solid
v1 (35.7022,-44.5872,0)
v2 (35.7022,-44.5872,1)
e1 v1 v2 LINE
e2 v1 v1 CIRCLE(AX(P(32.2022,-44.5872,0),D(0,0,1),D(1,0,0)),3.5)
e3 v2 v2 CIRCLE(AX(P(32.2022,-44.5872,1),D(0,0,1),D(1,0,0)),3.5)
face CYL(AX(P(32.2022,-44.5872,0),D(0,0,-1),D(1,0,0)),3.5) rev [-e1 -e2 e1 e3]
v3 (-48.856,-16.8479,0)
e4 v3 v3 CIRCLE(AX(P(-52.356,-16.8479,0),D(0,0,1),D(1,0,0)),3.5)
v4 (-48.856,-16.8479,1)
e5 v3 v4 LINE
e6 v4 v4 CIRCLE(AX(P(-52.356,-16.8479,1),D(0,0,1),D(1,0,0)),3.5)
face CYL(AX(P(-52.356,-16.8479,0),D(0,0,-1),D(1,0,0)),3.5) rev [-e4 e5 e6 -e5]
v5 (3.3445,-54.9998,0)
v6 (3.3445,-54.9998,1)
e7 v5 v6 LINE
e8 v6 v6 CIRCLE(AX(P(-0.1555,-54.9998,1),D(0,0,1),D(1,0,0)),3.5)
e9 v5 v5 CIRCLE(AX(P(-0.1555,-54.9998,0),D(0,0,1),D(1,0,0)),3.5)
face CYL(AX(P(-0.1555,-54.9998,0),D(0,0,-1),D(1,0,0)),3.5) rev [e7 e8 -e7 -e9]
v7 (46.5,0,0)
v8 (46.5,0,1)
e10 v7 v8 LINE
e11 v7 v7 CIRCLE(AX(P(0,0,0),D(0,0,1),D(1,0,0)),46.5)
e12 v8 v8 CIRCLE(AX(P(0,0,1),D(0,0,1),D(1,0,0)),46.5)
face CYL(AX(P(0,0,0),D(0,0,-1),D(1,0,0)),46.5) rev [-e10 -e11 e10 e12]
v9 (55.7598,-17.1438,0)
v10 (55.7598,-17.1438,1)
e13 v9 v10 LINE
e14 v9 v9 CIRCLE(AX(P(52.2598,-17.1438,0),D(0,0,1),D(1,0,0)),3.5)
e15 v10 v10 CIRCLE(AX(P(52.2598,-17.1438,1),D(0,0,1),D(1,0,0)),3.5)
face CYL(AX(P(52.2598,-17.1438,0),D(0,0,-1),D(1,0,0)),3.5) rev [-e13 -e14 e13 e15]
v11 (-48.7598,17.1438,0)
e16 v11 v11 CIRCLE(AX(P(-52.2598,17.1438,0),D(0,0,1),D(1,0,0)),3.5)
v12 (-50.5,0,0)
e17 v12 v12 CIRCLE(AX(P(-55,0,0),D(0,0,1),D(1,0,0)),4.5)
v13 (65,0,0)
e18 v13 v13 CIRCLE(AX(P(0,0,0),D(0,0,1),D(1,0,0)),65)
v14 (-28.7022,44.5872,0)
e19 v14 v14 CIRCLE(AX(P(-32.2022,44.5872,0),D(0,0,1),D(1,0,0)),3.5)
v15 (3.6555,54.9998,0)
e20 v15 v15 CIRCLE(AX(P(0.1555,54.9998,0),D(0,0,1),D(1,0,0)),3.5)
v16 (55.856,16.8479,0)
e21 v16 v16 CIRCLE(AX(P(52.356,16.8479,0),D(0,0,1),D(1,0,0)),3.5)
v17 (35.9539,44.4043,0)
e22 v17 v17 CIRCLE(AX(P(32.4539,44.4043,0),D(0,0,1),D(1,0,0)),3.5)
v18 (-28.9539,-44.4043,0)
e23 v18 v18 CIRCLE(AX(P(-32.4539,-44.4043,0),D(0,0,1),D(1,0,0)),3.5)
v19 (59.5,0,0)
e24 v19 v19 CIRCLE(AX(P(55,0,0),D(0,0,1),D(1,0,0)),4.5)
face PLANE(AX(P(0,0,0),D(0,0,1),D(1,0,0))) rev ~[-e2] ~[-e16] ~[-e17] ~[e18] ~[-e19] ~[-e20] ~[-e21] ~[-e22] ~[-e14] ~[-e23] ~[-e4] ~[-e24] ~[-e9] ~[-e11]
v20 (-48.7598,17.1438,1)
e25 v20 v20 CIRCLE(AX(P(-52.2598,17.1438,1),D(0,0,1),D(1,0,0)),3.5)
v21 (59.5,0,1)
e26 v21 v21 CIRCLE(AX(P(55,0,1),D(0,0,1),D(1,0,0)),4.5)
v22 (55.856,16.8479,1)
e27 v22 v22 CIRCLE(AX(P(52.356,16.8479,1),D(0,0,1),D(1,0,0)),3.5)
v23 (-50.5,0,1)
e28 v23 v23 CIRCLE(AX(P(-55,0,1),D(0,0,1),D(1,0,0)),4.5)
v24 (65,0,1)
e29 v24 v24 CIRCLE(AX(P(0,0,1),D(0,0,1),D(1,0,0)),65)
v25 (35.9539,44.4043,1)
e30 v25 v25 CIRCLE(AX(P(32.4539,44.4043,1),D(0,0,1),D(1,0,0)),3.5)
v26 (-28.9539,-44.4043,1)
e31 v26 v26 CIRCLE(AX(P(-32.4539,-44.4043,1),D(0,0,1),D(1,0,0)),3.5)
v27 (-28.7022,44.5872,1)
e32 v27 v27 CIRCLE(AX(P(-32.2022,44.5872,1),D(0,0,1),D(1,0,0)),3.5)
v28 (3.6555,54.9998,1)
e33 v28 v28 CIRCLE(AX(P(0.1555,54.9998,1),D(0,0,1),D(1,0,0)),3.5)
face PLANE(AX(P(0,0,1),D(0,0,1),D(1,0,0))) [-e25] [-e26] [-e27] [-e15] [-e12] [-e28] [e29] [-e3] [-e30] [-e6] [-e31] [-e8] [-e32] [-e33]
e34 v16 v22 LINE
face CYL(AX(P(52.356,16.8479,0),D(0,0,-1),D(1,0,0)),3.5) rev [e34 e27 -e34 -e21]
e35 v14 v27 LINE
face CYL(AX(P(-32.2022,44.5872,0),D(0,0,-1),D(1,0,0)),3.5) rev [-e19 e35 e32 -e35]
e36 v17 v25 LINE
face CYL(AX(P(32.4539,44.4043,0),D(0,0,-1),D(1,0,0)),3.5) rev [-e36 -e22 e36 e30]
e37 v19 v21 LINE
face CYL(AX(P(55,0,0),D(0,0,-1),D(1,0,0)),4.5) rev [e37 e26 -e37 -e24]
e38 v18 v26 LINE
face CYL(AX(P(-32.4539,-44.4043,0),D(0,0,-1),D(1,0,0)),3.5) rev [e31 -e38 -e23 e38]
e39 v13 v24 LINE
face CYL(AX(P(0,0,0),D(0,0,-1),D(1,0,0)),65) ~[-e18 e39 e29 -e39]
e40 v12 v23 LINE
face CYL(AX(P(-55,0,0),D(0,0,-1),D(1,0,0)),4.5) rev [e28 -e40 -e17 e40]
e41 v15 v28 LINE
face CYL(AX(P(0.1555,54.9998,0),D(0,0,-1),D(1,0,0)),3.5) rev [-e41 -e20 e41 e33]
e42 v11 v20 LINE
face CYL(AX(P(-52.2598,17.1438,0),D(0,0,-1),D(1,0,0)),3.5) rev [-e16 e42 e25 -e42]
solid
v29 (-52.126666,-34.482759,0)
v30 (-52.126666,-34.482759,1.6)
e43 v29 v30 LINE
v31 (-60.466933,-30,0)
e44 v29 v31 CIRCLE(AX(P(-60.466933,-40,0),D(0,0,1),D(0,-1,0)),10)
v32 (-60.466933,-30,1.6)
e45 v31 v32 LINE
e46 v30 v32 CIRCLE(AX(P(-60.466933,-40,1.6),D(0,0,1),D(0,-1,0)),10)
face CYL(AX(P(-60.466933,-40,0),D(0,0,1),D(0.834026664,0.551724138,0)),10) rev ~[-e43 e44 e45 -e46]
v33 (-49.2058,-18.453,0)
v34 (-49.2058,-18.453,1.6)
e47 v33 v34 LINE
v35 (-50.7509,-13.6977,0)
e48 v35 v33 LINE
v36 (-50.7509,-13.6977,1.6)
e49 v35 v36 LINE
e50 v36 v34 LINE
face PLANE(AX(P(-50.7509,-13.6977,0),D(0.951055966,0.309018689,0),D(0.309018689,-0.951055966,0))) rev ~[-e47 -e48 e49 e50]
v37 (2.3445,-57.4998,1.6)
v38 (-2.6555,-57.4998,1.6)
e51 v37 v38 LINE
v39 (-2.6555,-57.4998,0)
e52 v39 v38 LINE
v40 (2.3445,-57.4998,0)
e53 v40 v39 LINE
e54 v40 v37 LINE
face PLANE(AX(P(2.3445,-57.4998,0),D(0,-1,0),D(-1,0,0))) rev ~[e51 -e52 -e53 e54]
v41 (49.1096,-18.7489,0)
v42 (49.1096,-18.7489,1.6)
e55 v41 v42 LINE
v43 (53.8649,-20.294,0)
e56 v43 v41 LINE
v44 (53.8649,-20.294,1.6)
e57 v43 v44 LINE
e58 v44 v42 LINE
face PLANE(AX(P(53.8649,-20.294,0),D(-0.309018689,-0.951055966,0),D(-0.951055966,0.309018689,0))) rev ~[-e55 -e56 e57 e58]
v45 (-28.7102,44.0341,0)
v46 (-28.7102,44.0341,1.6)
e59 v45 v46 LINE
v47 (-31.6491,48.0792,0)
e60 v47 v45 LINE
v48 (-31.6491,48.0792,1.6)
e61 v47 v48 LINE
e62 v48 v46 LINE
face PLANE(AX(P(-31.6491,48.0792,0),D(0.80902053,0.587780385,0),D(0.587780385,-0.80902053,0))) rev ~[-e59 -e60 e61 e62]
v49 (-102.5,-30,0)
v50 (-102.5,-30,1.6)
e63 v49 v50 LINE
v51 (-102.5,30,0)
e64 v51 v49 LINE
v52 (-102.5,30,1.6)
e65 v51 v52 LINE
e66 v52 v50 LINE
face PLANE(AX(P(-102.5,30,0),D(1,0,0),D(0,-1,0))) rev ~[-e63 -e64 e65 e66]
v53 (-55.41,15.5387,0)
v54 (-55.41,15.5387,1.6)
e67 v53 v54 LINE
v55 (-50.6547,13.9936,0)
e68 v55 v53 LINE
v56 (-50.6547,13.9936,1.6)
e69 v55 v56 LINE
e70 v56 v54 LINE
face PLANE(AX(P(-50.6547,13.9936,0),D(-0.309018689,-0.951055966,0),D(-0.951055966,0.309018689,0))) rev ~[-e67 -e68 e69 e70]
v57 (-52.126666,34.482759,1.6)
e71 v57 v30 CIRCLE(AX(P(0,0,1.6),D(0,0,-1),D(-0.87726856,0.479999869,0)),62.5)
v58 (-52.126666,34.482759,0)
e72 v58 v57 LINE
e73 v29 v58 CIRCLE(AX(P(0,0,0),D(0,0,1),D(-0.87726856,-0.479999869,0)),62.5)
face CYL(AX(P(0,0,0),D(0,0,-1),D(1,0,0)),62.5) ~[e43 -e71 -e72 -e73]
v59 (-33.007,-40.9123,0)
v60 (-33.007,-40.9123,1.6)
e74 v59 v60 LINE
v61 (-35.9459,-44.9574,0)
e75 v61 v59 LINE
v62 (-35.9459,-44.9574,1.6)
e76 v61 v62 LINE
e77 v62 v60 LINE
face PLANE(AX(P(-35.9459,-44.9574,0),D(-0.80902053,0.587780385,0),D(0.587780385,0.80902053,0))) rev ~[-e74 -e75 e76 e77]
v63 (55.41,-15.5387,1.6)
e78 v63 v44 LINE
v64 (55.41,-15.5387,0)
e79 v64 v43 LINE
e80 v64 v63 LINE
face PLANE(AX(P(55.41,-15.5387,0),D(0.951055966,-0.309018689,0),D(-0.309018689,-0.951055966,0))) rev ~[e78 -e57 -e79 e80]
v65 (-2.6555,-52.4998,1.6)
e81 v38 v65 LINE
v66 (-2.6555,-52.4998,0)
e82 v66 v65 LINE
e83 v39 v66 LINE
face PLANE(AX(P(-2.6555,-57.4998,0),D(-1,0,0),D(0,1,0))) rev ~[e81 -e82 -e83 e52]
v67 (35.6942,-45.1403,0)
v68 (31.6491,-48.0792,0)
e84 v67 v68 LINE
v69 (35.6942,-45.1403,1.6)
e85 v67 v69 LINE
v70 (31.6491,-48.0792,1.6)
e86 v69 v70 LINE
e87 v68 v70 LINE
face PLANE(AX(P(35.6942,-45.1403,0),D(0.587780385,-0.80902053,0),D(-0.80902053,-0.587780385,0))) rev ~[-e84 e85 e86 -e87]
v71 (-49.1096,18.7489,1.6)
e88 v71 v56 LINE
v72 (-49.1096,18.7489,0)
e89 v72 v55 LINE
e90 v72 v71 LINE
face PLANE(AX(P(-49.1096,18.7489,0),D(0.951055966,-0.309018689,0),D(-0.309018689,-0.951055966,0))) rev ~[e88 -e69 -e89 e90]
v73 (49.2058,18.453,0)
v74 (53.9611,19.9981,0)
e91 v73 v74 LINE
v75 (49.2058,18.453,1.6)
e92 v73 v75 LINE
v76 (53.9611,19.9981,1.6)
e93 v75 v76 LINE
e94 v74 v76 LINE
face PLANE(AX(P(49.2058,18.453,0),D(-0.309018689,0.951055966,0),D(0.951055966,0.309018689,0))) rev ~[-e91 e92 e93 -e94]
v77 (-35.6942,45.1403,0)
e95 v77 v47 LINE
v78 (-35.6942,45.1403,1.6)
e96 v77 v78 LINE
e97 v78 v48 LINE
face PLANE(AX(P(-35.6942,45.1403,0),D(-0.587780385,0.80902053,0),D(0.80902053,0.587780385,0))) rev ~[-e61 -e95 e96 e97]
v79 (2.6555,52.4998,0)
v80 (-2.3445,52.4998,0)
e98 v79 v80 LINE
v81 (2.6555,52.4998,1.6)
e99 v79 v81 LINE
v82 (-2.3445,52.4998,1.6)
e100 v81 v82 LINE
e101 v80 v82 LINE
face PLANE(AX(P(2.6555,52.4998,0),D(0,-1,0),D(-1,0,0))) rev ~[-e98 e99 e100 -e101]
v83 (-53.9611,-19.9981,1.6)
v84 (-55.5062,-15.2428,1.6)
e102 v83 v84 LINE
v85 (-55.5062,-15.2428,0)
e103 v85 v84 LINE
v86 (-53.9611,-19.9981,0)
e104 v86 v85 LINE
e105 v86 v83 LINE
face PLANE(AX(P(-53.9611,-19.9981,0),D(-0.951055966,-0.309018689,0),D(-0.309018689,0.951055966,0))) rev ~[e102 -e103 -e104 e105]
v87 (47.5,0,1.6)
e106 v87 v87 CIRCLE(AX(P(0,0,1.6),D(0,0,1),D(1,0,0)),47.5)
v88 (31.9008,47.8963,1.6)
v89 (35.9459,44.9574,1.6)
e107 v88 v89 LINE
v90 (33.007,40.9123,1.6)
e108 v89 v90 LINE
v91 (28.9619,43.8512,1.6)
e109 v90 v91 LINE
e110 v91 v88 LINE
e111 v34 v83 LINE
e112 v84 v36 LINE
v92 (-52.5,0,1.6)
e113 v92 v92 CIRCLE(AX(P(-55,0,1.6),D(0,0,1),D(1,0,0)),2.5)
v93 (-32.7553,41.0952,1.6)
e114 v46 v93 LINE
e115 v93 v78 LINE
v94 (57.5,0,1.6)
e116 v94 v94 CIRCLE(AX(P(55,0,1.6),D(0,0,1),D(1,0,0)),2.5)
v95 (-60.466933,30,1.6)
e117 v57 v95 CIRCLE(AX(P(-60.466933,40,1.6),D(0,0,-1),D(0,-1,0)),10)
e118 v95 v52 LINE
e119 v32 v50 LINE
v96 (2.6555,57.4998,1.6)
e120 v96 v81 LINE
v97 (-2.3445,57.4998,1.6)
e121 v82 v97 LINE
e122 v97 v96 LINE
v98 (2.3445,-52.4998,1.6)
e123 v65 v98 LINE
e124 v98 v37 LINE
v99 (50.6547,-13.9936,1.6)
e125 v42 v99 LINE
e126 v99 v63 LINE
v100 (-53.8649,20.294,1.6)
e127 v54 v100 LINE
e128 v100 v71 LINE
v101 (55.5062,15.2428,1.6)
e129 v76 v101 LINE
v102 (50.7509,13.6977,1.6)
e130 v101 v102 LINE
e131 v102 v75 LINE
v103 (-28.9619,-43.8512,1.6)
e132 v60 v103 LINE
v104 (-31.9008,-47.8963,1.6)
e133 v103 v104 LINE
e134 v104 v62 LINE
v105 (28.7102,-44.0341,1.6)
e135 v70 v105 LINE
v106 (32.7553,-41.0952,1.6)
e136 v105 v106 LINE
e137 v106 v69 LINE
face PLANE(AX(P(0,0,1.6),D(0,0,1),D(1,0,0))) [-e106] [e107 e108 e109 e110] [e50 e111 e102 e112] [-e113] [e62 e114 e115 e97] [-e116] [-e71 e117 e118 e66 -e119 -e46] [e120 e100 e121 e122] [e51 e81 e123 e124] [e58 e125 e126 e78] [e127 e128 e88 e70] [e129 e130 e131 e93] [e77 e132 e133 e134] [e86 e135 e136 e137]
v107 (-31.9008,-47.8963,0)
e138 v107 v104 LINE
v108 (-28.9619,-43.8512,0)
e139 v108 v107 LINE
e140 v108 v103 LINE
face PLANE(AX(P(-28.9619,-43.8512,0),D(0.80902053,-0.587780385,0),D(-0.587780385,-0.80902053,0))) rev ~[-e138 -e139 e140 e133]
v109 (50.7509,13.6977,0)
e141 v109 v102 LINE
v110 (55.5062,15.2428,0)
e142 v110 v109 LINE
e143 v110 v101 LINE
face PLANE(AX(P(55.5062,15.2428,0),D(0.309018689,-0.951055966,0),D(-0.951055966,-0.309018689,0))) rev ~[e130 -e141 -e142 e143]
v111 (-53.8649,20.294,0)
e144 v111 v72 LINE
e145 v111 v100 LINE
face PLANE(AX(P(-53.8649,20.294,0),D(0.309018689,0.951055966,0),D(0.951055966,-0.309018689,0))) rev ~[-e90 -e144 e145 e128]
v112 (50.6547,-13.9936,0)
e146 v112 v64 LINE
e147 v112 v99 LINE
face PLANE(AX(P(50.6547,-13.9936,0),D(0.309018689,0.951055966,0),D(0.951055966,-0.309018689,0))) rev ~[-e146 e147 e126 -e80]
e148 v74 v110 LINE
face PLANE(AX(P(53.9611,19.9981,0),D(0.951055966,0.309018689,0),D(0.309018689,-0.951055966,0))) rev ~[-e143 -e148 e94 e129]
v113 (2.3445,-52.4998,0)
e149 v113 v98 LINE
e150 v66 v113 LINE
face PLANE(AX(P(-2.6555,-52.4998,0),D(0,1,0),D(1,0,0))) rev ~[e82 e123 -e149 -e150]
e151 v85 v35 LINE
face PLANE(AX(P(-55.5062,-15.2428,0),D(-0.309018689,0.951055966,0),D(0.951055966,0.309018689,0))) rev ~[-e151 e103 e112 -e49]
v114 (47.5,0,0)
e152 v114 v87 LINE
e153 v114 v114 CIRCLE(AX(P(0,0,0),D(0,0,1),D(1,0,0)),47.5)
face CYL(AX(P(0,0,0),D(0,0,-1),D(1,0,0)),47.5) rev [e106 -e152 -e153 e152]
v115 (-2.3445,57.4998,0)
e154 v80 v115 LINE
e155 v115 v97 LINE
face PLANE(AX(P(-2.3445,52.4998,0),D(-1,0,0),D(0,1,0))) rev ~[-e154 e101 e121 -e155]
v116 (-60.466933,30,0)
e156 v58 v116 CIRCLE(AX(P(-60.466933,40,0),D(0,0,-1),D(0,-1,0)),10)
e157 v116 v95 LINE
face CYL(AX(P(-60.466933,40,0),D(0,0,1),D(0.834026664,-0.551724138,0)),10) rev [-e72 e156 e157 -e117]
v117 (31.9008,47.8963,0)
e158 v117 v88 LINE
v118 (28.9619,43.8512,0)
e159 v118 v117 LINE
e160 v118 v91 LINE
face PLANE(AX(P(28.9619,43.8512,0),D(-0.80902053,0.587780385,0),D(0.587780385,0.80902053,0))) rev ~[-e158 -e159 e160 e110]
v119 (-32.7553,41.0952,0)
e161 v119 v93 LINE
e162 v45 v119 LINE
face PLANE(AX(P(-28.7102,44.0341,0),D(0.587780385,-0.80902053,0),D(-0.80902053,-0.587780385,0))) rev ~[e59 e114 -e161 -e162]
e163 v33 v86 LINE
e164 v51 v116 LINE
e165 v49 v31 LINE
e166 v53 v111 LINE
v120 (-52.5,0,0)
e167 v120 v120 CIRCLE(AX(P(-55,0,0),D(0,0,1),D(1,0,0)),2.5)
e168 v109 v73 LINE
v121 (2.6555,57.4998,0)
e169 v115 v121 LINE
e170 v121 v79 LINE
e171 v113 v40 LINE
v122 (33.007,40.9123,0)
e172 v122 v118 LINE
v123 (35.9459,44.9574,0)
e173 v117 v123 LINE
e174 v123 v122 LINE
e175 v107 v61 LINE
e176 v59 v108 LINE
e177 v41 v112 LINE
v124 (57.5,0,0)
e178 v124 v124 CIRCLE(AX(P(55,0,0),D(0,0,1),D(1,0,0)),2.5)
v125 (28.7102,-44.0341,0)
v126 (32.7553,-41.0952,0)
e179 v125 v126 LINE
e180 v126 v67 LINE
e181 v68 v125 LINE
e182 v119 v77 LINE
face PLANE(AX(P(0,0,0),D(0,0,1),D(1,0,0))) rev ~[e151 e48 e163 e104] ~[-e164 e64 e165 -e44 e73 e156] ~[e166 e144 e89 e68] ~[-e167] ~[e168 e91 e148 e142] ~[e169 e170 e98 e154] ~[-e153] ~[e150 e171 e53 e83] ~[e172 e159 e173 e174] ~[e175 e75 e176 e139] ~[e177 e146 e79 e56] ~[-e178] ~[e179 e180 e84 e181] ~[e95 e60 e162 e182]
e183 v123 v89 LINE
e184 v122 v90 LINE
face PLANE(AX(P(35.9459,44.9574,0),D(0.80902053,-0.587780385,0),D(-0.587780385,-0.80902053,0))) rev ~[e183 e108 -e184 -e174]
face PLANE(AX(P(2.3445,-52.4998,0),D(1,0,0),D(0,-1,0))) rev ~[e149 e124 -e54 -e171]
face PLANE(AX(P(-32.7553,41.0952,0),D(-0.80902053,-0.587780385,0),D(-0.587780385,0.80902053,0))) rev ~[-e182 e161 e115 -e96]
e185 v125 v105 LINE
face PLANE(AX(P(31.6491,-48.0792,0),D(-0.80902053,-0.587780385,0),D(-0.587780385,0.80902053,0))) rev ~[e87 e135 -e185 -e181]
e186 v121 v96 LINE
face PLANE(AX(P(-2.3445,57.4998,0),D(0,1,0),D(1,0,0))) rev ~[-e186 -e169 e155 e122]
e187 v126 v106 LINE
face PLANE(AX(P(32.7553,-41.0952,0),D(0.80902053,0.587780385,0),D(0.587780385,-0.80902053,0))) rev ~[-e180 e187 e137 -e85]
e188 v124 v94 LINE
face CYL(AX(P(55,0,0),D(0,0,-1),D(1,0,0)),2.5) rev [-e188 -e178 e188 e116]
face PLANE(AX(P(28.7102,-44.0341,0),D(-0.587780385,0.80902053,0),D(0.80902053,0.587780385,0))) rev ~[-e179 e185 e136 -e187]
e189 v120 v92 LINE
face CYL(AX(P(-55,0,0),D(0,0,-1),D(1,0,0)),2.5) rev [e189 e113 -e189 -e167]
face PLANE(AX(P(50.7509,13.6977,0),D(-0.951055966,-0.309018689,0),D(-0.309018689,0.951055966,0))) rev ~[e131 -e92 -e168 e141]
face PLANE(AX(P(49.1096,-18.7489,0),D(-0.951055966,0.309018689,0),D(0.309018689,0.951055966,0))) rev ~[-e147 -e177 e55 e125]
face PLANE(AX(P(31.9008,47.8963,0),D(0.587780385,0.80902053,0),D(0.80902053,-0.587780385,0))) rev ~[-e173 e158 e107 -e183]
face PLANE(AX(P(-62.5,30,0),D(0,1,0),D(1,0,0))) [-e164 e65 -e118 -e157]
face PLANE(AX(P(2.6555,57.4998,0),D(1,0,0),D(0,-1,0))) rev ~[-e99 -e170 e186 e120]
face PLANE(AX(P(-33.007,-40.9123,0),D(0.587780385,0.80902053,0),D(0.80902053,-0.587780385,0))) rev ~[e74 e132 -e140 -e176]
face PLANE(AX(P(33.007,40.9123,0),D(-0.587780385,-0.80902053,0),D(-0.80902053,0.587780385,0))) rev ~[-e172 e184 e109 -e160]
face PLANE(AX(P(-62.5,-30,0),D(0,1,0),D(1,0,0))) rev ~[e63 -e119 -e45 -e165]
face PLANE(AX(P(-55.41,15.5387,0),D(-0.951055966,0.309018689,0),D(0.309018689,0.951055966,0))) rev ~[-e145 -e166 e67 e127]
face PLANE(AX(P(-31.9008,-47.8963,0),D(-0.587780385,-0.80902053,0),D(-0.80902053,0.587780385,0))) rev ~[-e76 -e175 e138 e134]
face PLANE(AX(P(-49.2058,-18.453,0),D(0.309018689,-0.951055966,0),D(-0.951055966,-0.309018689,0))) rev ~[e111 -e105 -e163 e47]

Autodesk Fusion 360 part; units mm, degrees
sketch "Skizze1" plane through (0, 0, 0) normal (0, 0, 1) x (1, 0, 0)
  circle A0 centre (0, 0) radius 45 construction
  circle A1 centre (0, 0) radius 47.5
  circle A2 centre (0, 0) radius 55 construction
  line L0 (2.6555, 52.4998) -> (-2.3445, 52.4998)
  line L1 (-2.3445, 52.4998) -> (-2.3445, 57.4998)
  line L2 (-2.3445, 57.4998) -> (2.6555, 57.4998)
  line L3 (2.6555, 57.4998) -> (2.6555, 52.4998)
  line L4 (2.6555, 52.4998) -> (-2.3445, 57.4998) construction
  line L5 (-2.3445, 52.4998) -> (2.6555, 57.4998) construction
  line L6 (-31.6491, 48.0792) -> (-28.7102, 44.0341)
  line L7 (-28.7102, 44.0341) -> (-32.7553, 41.0952)
  line L8 (-32.7553, 41.0952) -> (-35.6942, 45.1403)
  line L9 (-35.6942, 45.1403) -> (-31.6491, 48.0792)
  line L10 (-53.8649, 20.294) -> (-49.1096, 18.7489)
  line L11 (-49.1096, 18.7489) -> (-50.6547, 13.9936)
  line L12 (-50.6547, 13.9936) -> (-55.41, 15.5387)
  line L13 (-55.41, 15.5387) -> (-53.8649, 20.294)
  line L14 (-55.5062, -15.2428) -> (-50.7509, -13.6977)
  line L15 (-50.7509, -13.6977) -> (-49.2058, -18.453)
  line L16 (-49.2058, -18.453) -> (-53.9611, -19.9981)
  line L17 (-53.9611, -19.9981) -> (-55.5062, -15.2428)
  line L18 (-35.9459, -44.9574) -> (-33.007, -40.9123)
  line L19 (-33.007, -40.9123) -> (-28.9619, -43.8512)
  line L20 (-28.9619, -43.8512) -> (-31.9008, -47.8963)
  line L21 (-31.9008, -47.8963) -> (-35.9459, -44.9574)
  line L22 (-2.6555, -57.4998) -> (-2.6555, -52.4998)
  line L23 (-2.6555, -52.4998) -> (2.3445, -52.4998)
  line L24 (2.3445, -52.4998) -> (2.3445, -57.4998)
  line L25 (2.3445, -57.4998) -> (-2.6555, -57.4998)
  line L26 (31.6491, -48.0792) -> (28.7102, -44.0341)
  line L27 (28.7102, -44.0341) -> (32.7553, -41.0952)
  line L28 (32.7553, -41.0952) -> (35.6942, -45.1403)
  line L29 (35.6942, -45.1403) -> (31.6491, -48.0792)
  line L30 (53.8649, -20.294) -> (49.1096, -18.7489)
  line L31 (49.1096, -18.7489) -> (50.6547, -13.9936)
  line L32 (50.6547, -13.9936) -> (55.41, -15.5387)
  line L33 (55.41, -15.5387) -> (53.8649, -20.294)
  line L34 (55.5062, 15.2428) -> (50.7509, 13.6977)
  line L35 (50.7509, 13.6977) -> (49.2058, 18.453)
  line L36 (49.2058, 18.453) -> (53.9611, 19.9981)
  line L37 (53.9611, 19.9981) -> (55.5062, 15.2428)
  line L38 (35.9459, 44.9574) -> (33.007, 40.9123)
  line L39 (33.007, 40.9123) -> (28.9619, 43.8512)
  line L40 (28.9619, 43.8512) -> (31.9008, 47.8963)
  line L41 (31.9008, 47.8963) -> (35.9459, 44.9574)
  circle A3 centre (0, 0) radius 62.5
  line L42 (-62.5, 30) -> (-102.5, 30)
  line L43 (-102.5, 30) -> (-102.5, -30)
  line L44 (-102.5, -30) -> (-62.5, -30)
  line L45 (-62.5, -30) -> (-62.5, 30)
  line L46 (-102.5, 0) -> (-62.5, 0) construction
  line L47 (-62.5, -30) -> (-54.8293, -30)
  line L48 (-62.5, 30) -> (-54.8293, 30)
  circle A4 centre (55, 0) radius 2.5
  circle A5 centre (-55, 0) radius 2.5
  point P0 (0.1555, 54.9998)
  dimension "d1" = 90
  dimension "d2" = 2.5
  dimension "d3" = 5
  dimension "d4" = 5
  dimension "d6" = 360
  dimension "d7" = 110
  dimension "d8" = 125
  dimension "d9" = 40
  dimension "d10" = 60
  dimension "d16" = 5
  dimension "d18" = 5
  dimension "d19" = 110
extrude "Extrusion1" add sketch "Skizze1" along normal blind 1.6 makes body 1
fillet "Abrundung1" radius 10 2 edges at (-54.8293, 30, 0.8) (-54.8293, -30, 0.8) on bodies 1
sketch "Skizze2" plane through (0, 0, 1.6) normal (0, 0, 1) x (-1, 0, 0)
  circle A0 centre (0, 0) radius 47.5
  line L0 (-28.9619, -43.8512) -> (-31.9008, -47.8963)
  line L1 (-31.9008, -47.8963) -> (-35.9459, -44.9574)
  line L2 (-35.9459, -44.9574) -> (-33.007, -40.9123)
  line L3 (-33.007, -40.9123) -> (-28.9619, -43.8512)
  line L4 (-49.2058, -18.453) -> (-53.9611, -19.9981)
  line L5 (-53.9611, -19.9981) -> (-55.5062, -15.2428)
  line L6 (-55.5062, -15.2428) -> (-50.7509, -13.6977)
  line L7 (-50.7509, -13.6977) -> (-49.2058, -18.453)
  line L8 (-50.6547, 13.9936) -> (-55.41, 15.5387)
  line L9 (-55.41, 15.5387) -> (-53.8649, 20.294)
  line L10 (-53.8649, 20.294) -> (-49.1096, 18.7489)
  line L11 (-49.1096, 18.7489) -> (-50.6547, 13.9936)
  line L12 (-32.7553, 41.0952) -> (-35.6942, 45.1403)
  line L13 (-35.6942, 45.1403) -> (-31.6491, 48.0792)
  line L14 (-31.6491, 48.0792) -> (-28.7102, 44.0341)
  line L15 (-28.7102, 44.0341) -> (-32.7553, 41.0952)
  line L16 (-2.3445, 52.4998) -> (-2.3445, 57.4998)
  line L17 (-2.3445, 57.4998) -> (2.6555, 57.4998)
  line L18 (2.6555, 57.4998) -> (2.6555, 52.4998)
  line L19 (2.6555, 52.4998) -> (-2.3445, 52.4998)
  line L20 (28.9619, 43.8512) -> (31.9008, 47.8963)
  line L21 (31.9008, 47.8963) -> (35.9459, 44.9574)
  line L22 (35.9459, 44.9574) -> (33.007, 40.9123)
  line L23 (33.007, 40.9123) -> (28.9619, 43.8512)
  line L24 (49.2058, 18.453) -> (53.9611, 19.9981)
  line L25 (53.9611, 19.9981) -> (55.5062, 15.2428)
  line L26 (55.5062, 15.2428) -> (50.7509, 13.6977)
  line L27 (50.7509, 13.6977) -> (49.2058, 18.453)
  line L28 (50.6547, -13.9936) -> (55.41, -15.5387)
  line L29 (55.41, -15.5387) -> (53.8649, -20.294)
  line L30 (53.8649, -20.294) -> (49.1096, -18.7489)
  line L31 (49.1096, -18.7489) -> (50.6547, -13.9936)
  line L32 (32.7553, -41.0952) -> (35.6942, -45.1403)
  line L33 (35.6942, -45.1403) -> (31.6491, -48.0792)
  line L34 (31.6491, -48.0792) -> (28.7102, -44.0341)
  line L35 (28.7102, -44.0341) -> (32.7553, -41.0952)
  line L36 (2.3445, -57.4998) -> (-2.6555, -57.4998)
  line L37 (-2.6555, -57.4998) -> (-2.6555, -52.4998)
  line L38 (-2.6555, -52.4998) -> (2.3445, -52.4998)
  line L39 (2.3445, -52.4998) -> (2.3445, -57.4998)
  line L40 (102.5, -30) -> (102.5, 30)
  line L41 (102.5, 30) -> (60.4669, 30)
  arc A1 (52.1267, 34.4828) -> (60.4669, 30) centre (60.4669, 40) ccw
  arc A2 (52.1267, 34.4828) -> (52.1267, -34.4828) centre (0, 0) ccw
  arc A3 (60.4669, -30) -> (52.1267, -34.4828) centre (60.4669, -40) ccw
  line L42 (60.4669, -30) -> (102.5, -30)
  circle A4 centre (55, 0) radius 2.5
  circle A5 centre (-55, 0) radius 2.5
sketch "Skizze1 (2)" plane through (0, 0, 0) normal (0, 0, 1) x (1, 0, 0) in component "Blende"
  circle A0 centre (0, 0) radius 47.5
  circle A1 centre (55, 0) radius 2.5
  circle A2 centre (-55, 0) radius 2.5
  line L0 (-50.7509, -13.6977) -> (-49.2058, -18.453) construction
  line L1 (-49.2058, -18.453) -> (-53.9611, -19.9981) construction
  line L2 (-55.5062, -15.2428) -> (-50.7509, -13.6977) construction
  line L3 (-53.9611, -19.9981) -> (-55.5062, -15.2428) construction
  line L4 (-31.9008, -47.8963) -> (-35.9459, -44.9574) construction
  line L5 (-35.9459, -44.9574) -> (-33.007, -40.9123) construction
  line L6 (-28.9619, -43.8512) -> (-31.9008, -47.8963) construction
  line L7 (-33.007, -40.9123) -> (-28.9619, -43.8512) construction
  line L8 (2.3445, -57.4998) -> (-2.6555, -57.4998) construction
  line L9 (-2.6555, -57.4998) -> (-2.6555, -52.4998) construction
  line L10 (2.3445, -52.4998) -> (2.3445, -57.4998) construction
  line L11 (-2.6555, -52.4998) -> (2.3445, -52.4998) construction
  line L12 (35.6942, -45.1403) -> (31.6491, -48.0792) construction
  line L13 (31.6491, -48.0792) -> (28.7102, -44.0341) construction
  line L14 (32.7553, -41.0952) -> (35.6942, -45.1403) construction
  line L15 (28.7102, -44.0341) -> (32.7553, -41.0952) construction
  line L16 (55.41, -15.5387) -> (53.8649, -20.294) construction
  line L17 (53.8649, -20.294) -> (49.1096, -18.7489) construction
  line L18 (50.6547, -13.9936) -> (55.41, -15.5387) construction
  line L19 (49.1096, -18.7489) -> (50.6547, -13.9936) construction
  line L20 (53.9611, 19.9981) -> (55.5062, 15.2428) construction
  line L21 (55.5062, 15.2428) -> (50.7509, 13.6977) construction
  line L22 (49.2058, 18.453) -> (53.9611, 19.9981) construction
  line L23 (50.7509, 13.6977) -> (49.2058, 18.453) construction
  line L24 (33.007, 40.9123) -> (28.9619, 43.8512) construction
  line L25 (28.9619, 43.8512) -> (31.9008, 47.8963) construction
  line L26 (35.9459, 44.9574) -> (33.007, 40.9123) construction
  line L27 (31.9008, 47.8963) -> (35.9459, 44.9574) construction
  line L28 (2.6555, 52.4998) -> (-2.3445, 52.4998) construction
  line L29 (-2.3445, 52.4998) -> (-2.3445, 57.4998) construction
  line L30 (2.6555, 57.4998) -> (2.6555, 52.4998) construction
  line L31 (-2.3445, 57.4998) -> (2.6555, 57.4998) construction
  line L32 (-28.7102, 44.0341) -> (-32.7553, 41.0952) construction
  line L33 (-32.7553, 41.0952) -> (-35.6942, 45.1403) construction
  line L34 (-31.6491, 48.0792) -> (-28.7102, 44.0341) construction
  line L35 (-35.6942, 45.1403) -> (-31.6491, 48.0792) construction
  line L36 (-49.1096, 18.7489) -> (-50.6547, 13.9936) construction
  line L37 (-50.6547, 13.9936) -> (-55.41, 15.5387) construction
  line L38 (-53.8649, 20.294) -> (-49.1096, 18.7489) construction
  line L39 (-55.41, 15.5387) -> (-53.8649, 20.294) construction
  circle A3 centre (0, 0) radius 65
  circle A4 centre (-55, 0) radius 4
  circle A5 centre (55, 0) radius 4
  circle A6 centre (-0.1555, -54.9998) radius 3
  circle A7 centre (32.2022, -44.5872) radius 3
  circle A8 centre (52.2598, -17.1438) radius 3
  circle A9 centre (52.356, 16.8479) radius 3
  circle A10 centre (32.4539, 44.4043) radius 3
  circle A11 centre (0.1555, 54.9998) radius 3
  circle A12 centre (-32.2022, 44.5872) radius 3
  circle A13 centre (-52.2598, 17.1438) radius 3
  circle A14 centre (-52.356, -16.8479) radius 3
  circle A15 centre (-32.4539, -44.4043) radius 3
  dimension "d20" = 130
  dimension "d29" = 8
  dimension "d30" = 8
  dimension "d32" = 6
  dimension "d34" = 360
extrude "Extrusion1'" add sketch "Skizze1 (2)" along normal blind 2 separate body contours A1 | A2 | A3 | A4 | A5 makes body 2 in component "Blende"
extrude "Extrusion2" add sketch "Skizze1 (2)" against normal blind 4 contours A1 | A2 | A4 | A5 bodies 2 in component "Blende"
sketch "Skizze2 (2)" plane through (0, 0, -4) normal (0, 0, -1) x (1, 0, 0) in component "Blende"
  circle A0 centre (55, 0) radius 2.4
  circle A1 centre (-55, 0) radius 2.4
  circle A2 centre (55, 0) radius 4
  circle A3 centre (-55, 0) radius 4
  dimension "d25" = 4.8
  dimension "d26" = 4.8
extrude "Extrusion3" cut sketch "Skizze2 (2)" against normal up to surface (5 mm away) contours A0 | A1 bodies 2 in component "Blende"
chamfer "Fase1" distance 0.5 angle 45 10 edges at (29.6569, 45.4892, 2) (-2.6414, 56.0846, 2) (-34.9992, 45.672, 2) (-55.0568, 18.2286, 2) (-55.1529, -15.7631, 2) (49.559, 17.9328, 2) (49.4629, -16.059, 2) (29.4052, -43.5023, 2) (-2.9525, -53.9149, 2) (-35.2509, -43.3195, 2) on bodies 2 in component "Blende"
sketch "Skizze5" plane through (0, 0, 2) normal (0, 0, 1) x (-1, 0, 0) in component "Blende"
  circle A0 centre (0.1555, 54.9998) radius 3.5
  circle A1 centre (-52.2598, 17.1438) radius 3.5
  circle A2 centre (52.356, 16.8479) radius 3.5
  circle A3 centre (32.2022, -44.5872) radius 3.5
  circle A4 centre (-32.4539, -44.4043) radius 3.5
  circle A5 centre (0, 0) radius 47.5
  circle A6 centre (0, 0) radius 65
  circle A7 centre (-0.1555, -54.9998) radius 3.5
  circle A8 centre (52.2598, -17.1438) radius 3.5
  circle A9 centre (-52.356, -16.8479) radius 3.5
  circle A10 centre (-32.2022, 44.5872) radius 3.5
  circle A11 centre (32.4539, 44.4043) radius 3.5
  circle A12 centre (0, 0) radius 44.5
  circle A13 centre (0, 0) radius 42.5
  dimension "d37" = -3
  dimension "d38" = -5
extrude "Extrusion4" add sketch "Skizze5" against normal up to surface (2 mm away) contours A5 | A12 bodies 2 in component "Blende"
extrude "Extrusion5" add sketch "Skizze5" against normal blind 8 contours A12 bodies 2 in component "Blende"
chamfer "Fase2" distance 1.5 angle 45 1 edges at (-60.6013, -23.505, 2) on bodies 2 in component "Blende"
chamfer "Fase3" distance 1 angle 45 1 edges at (39.6239, -15.3687, 2) on bodies 2 in component "Blende"
fillet "Abrundung1'" radius 1 1 edges at (41.4886, 16.0919, 0) on bodies 2 in component "Blende"
sketch "Skizze6" plane through (0, 0, 0) normal (0, 0, 1) x (1, 0, 0) in component "Blende"
  circle A0 centre (0, 0) radius 65
  circle A1 centre (-52.2598, 17.1438) radius 3 construction
  circle A2 centre (-52.356, -16.8479) radius 3 construction
  circle A3 centre (-32.2022, 44.5872) radius 3 construction
  circle A4 centre (0.1555, 54.9998) radius 3 construction
  circle A5 centre (32.4539, 44.4043) radius 3 construction
  circle A6 centre (52.356, 16.8479) radius 3 construction
  circle A7 centre (52.2598, -17.1438) radius 3 construction
  circle A8 centre (32.2022, -44.5872) radius 3 construction
  circle A9 centre (-0.1555, -54.9998) radius 3 construction
  circle A10 centre (-32.4539, -44.4043) radius 3 construction
  circle A11 centre (-55, 0) radius 4 construction
  circle A12 centre (55, 0) radius 4 construction
  circle A13 centre (0, 0) radius 47.5 construction
  circle A14 centre (-0.1555, -54.9998) radius 3.5
  circle A15 centre (32.2022, -44.5872) radius 3.5
  circle A16 centre (52.2598, -17.1438) radius 3.5
  circle A17 centre (52.356, 16.8479) radius 3.5
  circle A18 centre (32.4539, 44.4043) radius 3.5
  circle A19 centre (0.1555, 54.9998) radius 3.5
  circle A20 centre (-32.2022, 44.5872) radius 3.5
  circle A21 centre (-52.2598, 17.1438) radius 3.5
  circle A22 centre (-52.356, -16.8479) radius 3.5
  circle A23 centre (-32.4539, -44.4043) radius 3.5
  circle A24 centre (55, 0) radius 4.5
  circle A25 centre (-55, 0) radius 4.5
  circle A26 centre (0, 0) radius 46.5
  dimension "d47" = 7
  dimension "d49" = 360
  dimension "d50" = 9
  dimension "d51" = 9
  dimension "d52" = -1
extrude "Extrusion6" add sketch "Skizze6" along normal blind 1 separate body makes body 3 in component "Blende"
sketch "Skizze7" plane through (0, 0, 0) normal (0, 0, -1) x (1, 0, 0) in component "Blende"
  circle A0 centre (52.356, -16.8479) radius 3.5
  circle A1 centre (32.4539, -44.4043) radius 3.5
  circle A2 centre (-52.2598, -17.1438) radius 3.5
  circle A3 centre (-32.2022, -44.5872) radius 3.5
  circle A4 centre (0.1555, -54.9998) radius 3.5
  circle A5 centre (-52.356, 16.8479) radius 3.5
  circle A6 centre (-32.4539, 44.4043) radius 3.5
  circle A7 centre (55, 0) radius 4.5
  circle A8 centre (-55, 0) radius 4.5
  circle A9 centre (0, 0) radius 46.5
  circle A10 centre (52.2598, 17.1438) radius 3.5
  circle A11 centre (32.2022, 44.5872) radius 3.5
  circle A12 centre (-0.1555, 54.9998) radius 3.5
  circle A13 centre (0, 0) radius 65
component "Blende" placed x (1, 0, 0) y (0, 1, 0) z (0, 0, 1) at (0, 0, 0)
hidden bodies 2
equation "d26 = d25"
equation "d29 = d30"
equation "d38 = d37 - 2 mm"
